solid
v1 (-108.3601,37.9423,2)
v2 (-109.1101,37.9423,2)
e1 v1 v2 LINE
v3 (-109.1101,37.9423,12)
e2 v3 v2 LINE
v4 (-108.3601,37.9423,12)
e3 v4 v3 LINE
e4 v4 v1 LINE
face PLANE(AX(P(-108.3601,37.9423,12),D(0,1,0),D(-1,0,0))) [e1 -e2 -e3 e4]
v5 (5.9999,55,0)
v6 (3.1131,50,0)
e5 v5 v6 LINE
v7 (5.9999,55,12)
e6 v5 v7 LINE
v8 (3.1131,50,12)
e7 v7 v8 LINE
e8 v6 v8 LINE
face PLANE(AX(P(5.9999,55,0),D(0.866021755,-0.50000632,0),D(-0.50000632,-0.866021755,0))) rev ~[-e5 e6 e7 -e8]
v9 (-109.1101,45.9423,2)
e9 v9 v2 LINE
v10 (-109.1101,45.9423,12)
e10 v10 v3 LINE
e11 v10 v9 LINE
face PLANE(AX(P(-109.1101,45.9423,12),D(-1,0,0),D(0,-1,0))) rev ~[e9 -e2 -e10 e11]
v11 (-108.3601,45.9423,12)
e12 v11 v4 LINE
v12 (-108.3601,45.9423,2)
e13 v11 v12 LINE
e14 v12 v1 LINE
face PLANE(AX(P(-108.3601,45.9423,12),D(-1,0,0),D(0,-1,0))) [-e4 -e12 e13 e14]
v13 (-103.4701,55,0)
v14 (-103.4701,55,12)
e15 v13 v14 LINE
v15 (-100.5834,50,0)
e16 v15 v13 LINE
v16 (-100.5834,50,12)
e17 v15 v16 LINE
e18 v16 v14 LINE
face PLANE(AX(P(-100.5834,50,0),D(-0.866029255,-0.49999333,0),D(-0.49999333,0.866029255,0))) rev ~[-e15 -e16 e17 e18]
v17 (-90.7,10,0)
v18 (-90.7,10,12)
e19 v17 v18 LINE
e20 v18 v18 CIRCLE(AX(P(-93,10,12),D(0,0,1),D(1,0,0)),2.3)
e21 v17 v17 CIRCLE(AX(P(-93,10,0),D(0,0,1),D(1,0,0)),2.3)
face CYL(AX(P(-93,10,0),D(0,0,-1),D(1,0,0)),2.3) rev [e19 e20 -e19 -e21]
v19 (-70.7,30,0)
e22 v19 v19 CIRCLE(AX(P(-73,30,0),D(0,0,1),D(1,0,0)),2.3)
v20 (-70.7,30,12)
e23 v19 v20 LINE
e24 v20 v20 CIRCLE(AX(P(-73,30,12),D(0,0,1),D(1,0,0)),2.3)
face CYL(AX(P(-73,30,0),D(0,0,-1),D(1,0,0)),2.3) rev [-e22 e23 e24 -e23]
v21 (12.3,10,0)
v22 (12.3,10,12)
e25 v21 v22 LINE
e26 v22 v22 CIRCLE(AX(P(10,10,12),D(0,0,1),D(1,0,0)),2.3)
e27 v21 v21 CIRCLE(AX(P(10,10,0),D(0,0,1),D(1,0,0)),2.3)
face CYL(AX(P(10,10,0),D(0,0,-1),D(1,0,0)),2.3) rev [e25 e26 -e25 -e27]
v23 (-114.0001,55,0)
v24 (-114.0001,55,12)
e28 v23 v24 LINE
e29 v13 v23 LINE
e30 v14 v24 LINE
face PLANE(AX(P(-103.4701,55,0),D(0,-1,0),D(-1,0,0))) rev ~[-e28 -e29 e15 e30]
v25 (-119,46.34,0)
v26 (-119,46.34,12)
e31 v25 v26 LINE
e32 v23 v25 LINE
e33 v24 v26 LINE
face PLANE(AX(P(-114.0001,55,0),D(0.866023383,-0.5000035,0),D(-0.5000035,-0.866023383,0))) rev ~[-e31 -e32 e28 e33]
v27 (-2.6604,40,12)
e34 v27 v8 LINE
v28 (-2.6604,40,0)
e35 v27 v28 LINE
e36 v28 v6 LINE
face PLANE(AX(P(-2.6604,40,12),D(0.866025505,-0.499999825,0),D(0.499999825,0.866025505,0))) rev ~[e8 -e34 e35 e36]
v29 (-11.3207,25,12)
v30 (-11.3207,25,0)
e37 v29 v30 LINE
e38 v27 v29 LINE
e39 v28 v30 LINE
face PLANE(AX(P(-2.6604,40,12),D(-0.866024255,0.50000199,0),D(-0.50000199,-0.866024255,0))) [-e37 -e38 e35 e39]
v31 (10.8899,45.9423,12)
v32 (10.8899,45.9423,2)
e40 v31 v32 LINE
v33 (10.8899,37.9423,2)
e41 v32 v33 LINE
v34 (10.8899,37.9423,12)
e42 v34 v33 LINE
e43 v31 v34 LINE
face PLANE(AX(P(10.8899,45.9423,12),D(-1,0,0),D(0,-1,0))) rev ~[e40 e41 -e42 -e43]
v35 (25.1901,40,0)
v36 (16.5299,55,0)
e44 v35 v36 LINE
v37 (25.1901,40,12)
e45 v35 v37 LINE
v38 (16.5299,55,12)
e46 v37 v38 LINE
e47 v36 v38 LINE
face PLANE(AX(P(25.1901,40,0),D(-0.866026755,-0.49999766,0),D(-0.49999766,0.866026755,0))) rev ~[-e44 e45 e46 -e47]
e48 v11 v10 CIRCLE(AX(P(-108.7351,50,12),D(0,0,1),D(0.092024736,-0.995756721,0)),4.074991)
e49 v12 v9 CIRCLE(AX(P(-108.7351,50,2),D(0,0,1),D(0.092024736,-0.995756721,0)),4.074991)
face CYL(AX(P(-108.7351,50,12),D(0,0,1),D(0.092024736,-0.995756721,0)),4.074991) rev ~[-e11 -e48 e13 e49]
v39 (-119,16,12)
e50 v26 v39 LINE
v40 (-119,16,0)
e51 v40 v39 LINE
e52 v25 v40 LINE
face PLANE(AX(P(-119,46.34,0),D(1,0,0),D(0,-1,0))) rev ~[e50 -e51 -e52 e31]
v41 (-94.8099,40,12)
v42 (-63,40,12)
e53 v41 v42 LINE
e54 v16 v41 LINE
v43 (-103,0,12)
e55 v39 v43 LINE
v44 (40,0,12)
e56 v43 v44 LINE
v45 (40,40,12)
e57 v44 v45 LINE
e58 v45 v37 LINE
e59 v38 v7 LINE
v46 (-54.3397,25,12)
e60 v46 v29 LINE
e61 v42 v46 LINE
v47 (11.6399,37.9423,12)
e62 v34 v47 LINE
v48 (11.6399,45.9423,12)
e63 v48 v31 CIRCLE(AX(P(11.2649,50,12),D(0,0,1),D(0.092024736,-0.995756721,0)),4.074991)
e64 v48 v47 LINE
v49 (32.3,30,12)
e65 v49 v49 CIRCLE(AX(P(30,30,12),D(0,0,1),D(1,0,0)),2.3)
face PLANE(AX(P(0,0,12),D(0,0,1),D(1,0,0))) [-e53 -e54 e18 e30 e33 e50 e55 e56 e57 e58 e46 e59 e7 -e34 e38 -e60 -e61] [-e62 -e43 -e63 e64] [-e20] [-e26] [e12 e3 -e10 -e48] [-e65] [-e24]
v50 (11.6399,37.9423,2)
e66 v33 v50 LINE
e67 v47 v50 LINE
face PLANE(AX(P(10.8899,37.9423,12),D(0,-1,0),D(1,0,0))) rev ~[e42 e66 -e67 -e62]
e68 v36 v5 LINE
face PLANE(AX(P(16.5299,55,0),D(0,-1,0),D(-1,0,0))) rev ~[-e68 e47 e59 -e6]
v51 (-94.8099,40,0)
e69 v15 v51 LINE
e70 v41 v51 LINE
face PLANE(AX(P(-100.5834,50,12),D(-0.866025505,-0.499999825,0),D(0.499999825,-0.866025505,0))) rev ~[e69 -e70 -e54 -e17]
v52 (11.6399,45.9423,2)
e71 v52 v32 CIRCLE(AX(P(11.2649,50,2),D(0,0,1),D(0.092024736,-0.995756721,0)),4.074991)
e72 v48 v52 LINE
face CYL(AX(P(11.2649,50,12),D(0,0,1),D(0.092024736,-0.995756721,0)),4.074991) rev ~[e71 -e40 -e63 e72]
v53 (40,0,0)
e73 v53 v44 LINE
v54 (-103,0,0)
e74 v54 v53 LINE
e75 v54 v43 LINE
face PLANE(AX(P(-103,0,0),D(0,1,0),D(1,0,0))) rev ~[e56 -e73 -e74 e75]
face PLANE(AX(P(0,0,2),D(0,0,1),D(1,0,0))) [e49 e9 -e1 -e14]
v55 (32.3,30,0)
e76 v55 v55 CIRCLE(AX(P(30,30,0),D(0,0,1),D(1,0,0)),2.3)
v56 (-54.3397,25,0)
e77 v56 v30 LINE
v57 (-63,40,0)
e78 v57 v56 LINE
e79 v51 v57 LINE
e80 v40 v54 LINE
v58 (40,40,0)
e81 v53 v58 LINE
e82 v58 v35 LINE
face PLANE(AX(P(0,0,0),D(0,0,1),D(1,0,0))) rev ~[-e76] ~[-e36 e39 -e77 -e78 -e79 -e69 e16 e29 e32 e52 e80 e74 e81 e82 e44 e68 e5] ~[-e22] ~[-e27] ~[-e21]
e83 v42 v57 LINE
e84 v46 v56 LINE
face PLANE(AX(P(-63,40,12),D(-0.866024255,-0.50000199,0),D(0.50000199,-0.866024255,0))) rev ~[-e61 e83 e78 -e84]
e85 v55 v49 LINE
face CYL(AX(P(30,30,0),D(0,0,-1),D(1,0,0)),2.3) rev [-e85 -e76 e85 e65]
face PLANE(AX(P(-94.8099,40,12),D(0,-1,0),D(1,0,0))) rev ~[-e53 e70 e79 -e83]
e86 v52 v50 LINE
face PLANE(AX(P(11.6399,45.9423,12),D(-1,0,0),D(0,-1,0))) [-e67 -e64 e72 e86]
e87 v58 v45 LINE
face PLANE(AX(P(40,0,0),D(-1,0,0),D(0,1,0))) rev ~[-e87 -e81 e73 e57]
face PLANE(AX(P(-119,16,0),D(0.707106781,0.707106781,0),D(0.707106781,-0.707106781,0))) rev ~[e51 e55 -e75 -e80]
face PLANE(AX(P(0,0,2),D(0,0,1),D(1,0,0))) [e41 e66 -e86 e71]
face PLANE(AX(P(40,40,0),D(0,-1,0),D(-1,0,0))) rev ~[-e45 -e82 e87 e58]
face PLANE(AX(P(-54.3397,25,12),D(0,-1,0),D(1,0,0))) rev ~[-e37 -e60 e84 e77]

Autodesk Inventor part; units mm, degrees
ref_plane "YZ Plane" through (0, 0, 0) normal (1, 0, 0) x (0, 1, 0)
ref_plane "XZ Plane" through (0, 0, 0) normal (0, 1, 0) x (-1, 0, 0)
ref_plane "XY Plane" through (0, 0, 0) normal (0, 0, 1) x (1, 0, 0)
sketch "rail_profile_1" plane through (0, 0, 0) normal (0, 0, 1) x (1, 0, 0)
  line L0 (6.605, 1.8) -> (6.605, 1.185) construction
  line L1 (7.1607, 6.1) -> (4.5, 3.4393) construction
  line L2 (4.5, 1.8) -> (6.605, 1.8) construction
  line L3 (4.5, 3.4393) -> (4.5, 1.8) construction
  line L4 (6.605, 1.185) -> (5.42, 0) construction
  line L5 (3.4393, 4.5) -> (6.1, 7.1607) construction
  line L6 (1.8, 4.5) -> (3.4393, 4.5) construction
  line L7 (1.8, 6.605) -> (1.8, 4.5) construction
  line L8 (5.42, 0) -> (1.5, 0) construction
  arc A0 (0, 1.5) -> (1.5, 0) centre (1.5, 1.5) ccw construction
  line L9 (0, 1.5) -> (0, 5.42) construction
  line L10 (0, 5.42) -> (1.185, 6.605) construction
  line L11 (1.185, 6.605) -> (1.8, 6.605) construction
  line L12 (0, 1.5) -> (0, 0) construction
  line L13 (0, 0) -> (1.5, 0) construction
  line L14 (3.7607, 17.3) -> (7.1607, 13.9) construction
  line L15 (1.8, 17.3) -> (3.7607, 17.3) construction
  line L16 (1.8, 22.7) -> (1.8, 17.3) construction
  line L17 (3.4393, 15.5) -> (1.8, 15.5) construction
  line L18 (1.8, 15.5) -> (1.8, 13.395) construction
  line L19 (1.8, 13.395) -> (1.185, 13.395) construction
  line L20 (6.1, 12.8393) -> (3.4393, 15.5) construction
  line L21 (1.185, 13.395) -> (0, 14.58) construction
  line L22 (0, 14.58) -> (0, 25.42) construction
  line L23 (6.1, 7.1607) -> (6.1, 9.79) construction
  line L24 (9.79, 6.1) -> (7.1607, 6.1) construction
  line L25 (6.1, 9.79) -> (6.31, 10) construction
  line L26 (10, 6.31) -> (9.79, 6.1) construction
  line L27 (6.31, 10) -> (6.1, 10.21) construction
  line L28 (10.21, 6.1) -> (10, 6.31) construction
  line L29 (6.1, 10.21) -> (6.1, 12.8393) construction
  circle A1 centre (10, 10) radius 2.3 construction
  line L30 (7.1607, 13.9) -> (12.8393, 13.9) construction
  line L31 (12.8393, 13.9) -> (13.9, 12.8393) construction
  line L32 (13.9, 12.8393) -> (13.9, 7.1607) construction
  line L33 (12.8393, 6.1) -> (10.21, 6.1) construction
  line L34 (17.3, 1.8) -> (22.7, 1.8) construction
  line L35 (17.3, 3.7607) -> (17.3, 1.8) construction
  line L36 (13.9, 7.1607) -> (17.3, 3.7607) construction
  line L37 (13.395, 1.185) -> (13.395, 1.8) construction
  line L38 (14.58, 0) -> (13.395, 1.185) construction
  line L39 (15.5, 3.4393) -> (12.8393, 6.1) construction
  line L40 (13.395, 1.8) -> (15.5, 1.8) construction
  line L41 (25.42, 0) -> (14.58, 0) construction
  line L42 (15.5, 1.8) -> (15.5, 3.4393) construction
  line L43 (0, 20) -> (51.5435, 20) construction
  line L44 (20, 0) -> (20, 50.2619) construction
  line L45 (33.395, 1.8) -> (33.395, 1.185) construction
  line L46 (32.8393, 6.1) -> (35.5, 3.4393) construction
  line L47 (35.5, 1.8) -> (33.395, 1.8) construction
  line L48 (35.5, 3.4393) -> (35.5, 1.8) construction
  line L49 (33.395, 1.185) -> (34.58, 0) construction
  line L50 (36.5607, 4.5) -> (33.9, 7.1607) construction
  line L51 (38.2, 4.5) -> (36.5607, 4.5) construction
  line L52 (38.2, 6.605) -> (38.2, 4.5) construction
  line L53 (34.58, 0) -> (38.5, 0) construction
  arc A2 (38.5, 0) -> (40, 1.5) centre (38.5, 1.5) ccw construction
  line L54 (40, 1.5) -> (40, 5.42) construction
  line L55 (38.815, 6.605) -> (38.2, 6.605) construction
  line L56 (40, 5.42) -> (38.815, 6.605) construction
  line L57 (33.9, 7.1607) -> (33.9, 9.79) construction
  line L58 (30.21, 6.1) -> (32.8393, 6.1) construction
  line L59 (33.9, 9.79) -> (33.69, 10) construction
  line L60 (30, 6.31) -> (30.21, 6.1) construction
  line L61 (33.69, 10) -> (33.9, 10.21) construction
  line L62 (29.79, 6.1) -> (30, 6.31) construction
  line L63 (33.9, 10.21) -> (33.9, 12.8393) construction
  line L64 (27.1607, 6.1) -> (29.79, 6.1) construction
  line L65 (26.1, 12.8393) -> (26.1, 7.1607) construction
  line L66 (32.8393, 13.9) -> (27.1607, 13.9) construction
  line L67 (27.1607, 13.9) -> (26.1, 12.8393) construction
  circle A3 centre (30, 10) radius 2.3 construction
  line L68 (38.2, 17.3) -> (36.2393, 17.3) construction
  line L69 (38.2, 22.7) -> (38.2, 17.3) construction
  line L70 (40, 14.58) -> (40, 25.42) construction
  line L71 (36.5607, 15.5) -> (38.2, 15.5) construction
  line L72 (38.2, 15.5) -> (38.2, 13.395) construction
  line L73 (38.2, 13.395) -> (38.815, 13.395) construction
  line L74 (38.815, 13.395) -> (40, 14.58) construction
  line L75 (22.7, 3.7607) -> (22.7, 1.8) construction
  line L76 (24.5, 1.8) -> (24.5, 3.4393) construction
  line L77 (26.605, 1.8) -> (24.5, 1.8) construction
  line L78 (26.605, 1.185) -> (26.605, 1.8) construction
  line L79 (25.42, 0) -> (26.605, 1.185) construction
  line L80 (24.5, 3.4393) -> (27.1607, 6.1) construction
  line L81 (26.1, 7.1607) -> (22.7, 3.7607) construction
  line L82 (33.9, 12.8393) -> (36.5607, 15.5) construction
  line L83 (36.2393, 17.3) -> (32.8393, 13.9) construction
  line L84 (6.605, 38.2) -> (6.605, 38.815) construction
  line L85 (7.1607, 33.9) -> (4.5, 36.5607) construction
  line L86 (4.5, 38.2) -> (6.605, 38.2) construction
  line L87 (4.5, 36.5607) -> (4.5, 38.2) construction
  line L88 (6.605, 38.815) -> (5.42, 40) construction
  line L89 (3.4393, 35.5) -> (6.1, 32.8393) construction
  line L90 (1.8, 35.5) -> (3.4393, 35.5) construction
  line L91 (1.8, 33.395) -> (1.8, 35.5) construction
  line L92 (5.42, 40) -> (1.5, 40) construction
  arc A4 (1.5, 40) -> (0, 38.5) centre (1.5, 38.5) ccw construction
  line L93 (0, 38.5) -> (0, 34.58) construction
  line L94 (1.185, 33.395) -> (1.8, 33.395) construction
  line L95 (0, 34.58) -> (1.185, 33.395) construction
  line L96 (6.1, 32.8393) -> (6.1, 30.21) construction
  line L97 (9.79, 33.9) -> (7.1607, 33.9) construction
  line L98 (6.1, 30.21) -> (6.31, 30) construction
  line L99 (10, 33.69) -> (9.79, 33.9) construction
  line L100 (6.31, 30) -> (6.1, 29.79) construction
  line L101 (10.21, 33.9) -> (10, 33.69) construction
  line L102 (6.1, 29.79) -> (6.1, 27.1607) construction
  line L103 (12.8393, 33.9) -> (10.21, 33.9) construction
  line L104 (13.9, 27.1607) -> (13.9, 32.8393) construction
  line L105 (7.1607, 26.1) -> (12.8393, 26.1) construction
  line L106 (12.8393, 26.1) -> (13.9, 27.1607) construction
  circle A5 centre (10, 30) radius 2.3 construction
  line L107 (1.8, 22.7) -> (3.7607, 22.7) construction
  line L108 (3.4393, 24.5) -> (1.8, 24.5) construction
  line L109 (1.8, 24.5) -> (1.8, 26.605) construction
  line L110 (1.8, 26.605) -> (1.185, 26.605) construction
  line L111 (1.185, 26.605) -> (0, 25.42) construction
  line L112 (17.3, 36.2393) -> (17.3, 38.2) construction
  line L113 (17.3, 38.2) -> (22.7, 38.2) construction
  line L114 (15.5, 38.2) -> (15.5, 36.5607) construction
  line L115 (13.395, 38.2) -> (15.5, 38.2) construction
  line L116 (13.395, 38.815) -> (13.395, 38.2) construction
  line L117 (14.58, 40) -> (13.395, 38.815) construction
  line L118 (25.42, 40) -> (14.58, 40) construction
  line L119 (15.5, 36.5607) -> (12.8393, 33.9) construction
  line L120 (13.9, 32.8393) -> (17.3, 36.2393) construction
  line L121 (6.1, 27.1607) -> (3.4393, 24.5) construction
  line L122 (3.7607, 22.7) -> (7.1607, 26.1) construction
  line L123 (38.815, 26.605) -> (40, 25.42) construction
  line L124 (38.2, 26.605) -> (38.815, 26.605) construction
  line L125 (38.2, 24.5) -> (38.2, 26.605) construction
  line L126 (38.2, 22.7) -> (36.2393, 22.7) construction
  line L127 (36.5607, 24.5) -> (38.2, 24.5) construction
  line L128 (36.2393, 22.7) -> (32.8393, 26.1) construction
  line L129 (33.9, 27.1607) -> (36.5607, 24.5) construction
  line L130 (32.8393, 26.1) -> (27.1607, 26.1) construction
  line L131 (27.1607, 26.1) -> (26.1, 27.1607) construction
  line L132 (26.1, 27.1607) -> (26.1, 32.8393) construction
  line L133 (26.1, 32.8393) -> (22.7, 36.2393) construction
  line L134 (24.5, 36.5607) -> (27.1607, 33.9) construction
  line L135 (24.5, 38.2) -> (24.5, 36.5607) construction
  line L136 (22.7, 36.2393) -> (22.7, 38.2) construction
  line L137 (26.605, 38.2) -> (24.5, 38.2) construction
  line L138 (26.605, 38.815) -> (26.605, 38.2) construction
  line L139 (25.42, 40) -> (26.605, 38.815) construction
  line L140 (33.395, 38.815) -> (34.58, 40) construction
  line L141 (34.58, 40) -> (38.5, 40) construction
  arc A6 (40, 38.5) -> (38.5, 40) centre (38.5, 38.5) ccw construction
  line L142 (40, 38.5) -> (40, 34.58) construction
  line L143 (40, 34.58) -> (38.815, 33.395) construction
  line L144 (38.815, 33.395) -> (38.2, 33.395) construction
  line L145 (38.2, 33.395) -> (38.2, 35.5) construction
  line L146 (38.2, 35.5) -> (36.5607, 35.5) construction
  line L147 (36.5607, 35.5) -> (33.9, 32.8393) construction
  line L148 (32.8393, 33.9) -> (35.5, 36.5607) construction
  line L149 (35.5, 36.5607) -> (35.5, 38.2) construction
  line L150 (35.5, 38.2) -> (33.395, 38.2) construction
  line L151 (33.395, 38.2) -> (33.395, 38.815) construction
  line L152 (30.21, 33.9) -> (32.8393, 33.9) construction
  line L153 (27.1607, 33.9) -> (29.79, 33.9) construction
  line L154 (30, 33.69) -> (30.21, 33.9) construction
  line L155 (29.79, 33.9) -> (30, 33.69) construction
  circle A7 centre (30, 30) radius 2.3 construction
  line L156 (33.9, 32.8393) -> (33.9, 30.21) construction
  line L157 (33.9, 30.21) -> (33.69, 30) construction
  line L158 (33.69, 30) -> (33.9, 29.79) construction
  line L159 (33.9, 29.79) -> (33.9, 27.1607) construction
  point P0 (0, 0)
  dimension "d0" = 1.5
  dimension "d1" = 6.605
  dimension "d2" = 6.605
  dimension "d3" = 1.185
  dimension "d4" = 135
  dimension "d5" = 1.185
  dimension "d6" = 135
  dimension "d7" = 0.615
  dimension "d8" = 0.615
  dimension "d9" = 2.105
  dimension "d10" = 1.6393
  dimension "d11" = 135
  dimension "d12" = 135
  dimension "d13" = 2.6607
  dimension "d14" = 1.6393
  dimension "d15" = 2.105
  dimension "d16" = 4.6
  dimension "d17" = 10
  dimension "d18" = 10
  dimension "d19" = 13.395
  dimension "d20" = 1.8
  dimension "d21" = 135
  dimension "d22" = 1.185
  dimension "d23" = 1.8
  dimension "d24" = 2.105
  dimension "d25" = 135
  dimension "d26" = 2.6607
  dimension "d29" = 7.1607
  dimension "d34" = 0.21
  dimension "d35" = 135
  dimension "d36" = 0.21
  dimension "d37" = 135
  dimension "d38" = 2.6293
  dimension "d39" = 3.4
  dimension "d40" = 1.5
  dimension "d41" = 135
  dimension "d42" = 0.21
  dimension "d43" = 0.21
  dimension "d44" = 135
  dimension "d45" = 2.6293
  dimension "d46" = 1.0607
  dimension "d47" = 135
  dimension "d48" = 5.6787
  dimension "d49" = 1.5
  dimension "d50" = 135
  dimension "d51" = 13.395
  dimension "d52" = 1.185
  dimension "d53" = 45
  dimension "d54" = 1.6393
  dimension "d55" = 1.9607
  dimension "d56" = 5.4
  dimension "d57" = 0.615
  dimension "d58" = 2.105
  dimension "d59" = 20
  dimension "d60" = 20
sketch "Sketch2" plane through (0, 0, 0) normal (0, 0, 1) x (1, 0, 0)
  line L0 (-14.2649, 439.4908) -> (-14.2649, -197.1126) construction
  line L1 (5.42, 40) -> (1.5, 40) construction
  line L2 (-119, 46.34) -> (-119, 16)
  line L3 (-114.0001, 55) -> (-119, 46.34)
  line L4 (-103.4701, 55) -> (-114.0001, 55)
  line L5 (-100.5834, 50) -> (-103.4701, 55)
  line L6 (3.1131, 50) -> (-100.5834, 50)
  line L7 (-119, 16) -> (-103, 0)
  line L8 (-103, 0) -> (40, 0)
  line L9 (5.9999, 55) -> (3.1131, 50)
  line L10 (16.5299, 55) -> (5.9999, 55)
  line L11 (25.1901, 40) -> (16.5299, 55)
  line L12 (40, 40) -> (25.1901, 40)
  line L13 (40, 0) -> (40, 40)
  circle A0 centre (-93, 10) radius 2.3
  circle A1 centre (-73, 30) radius 2.3
  line L14 (40, 14.58) -> (40, 25.42) construction
  circle A2 centre (10, 10) radius 2.3 projected
  circle A3 centre (30, 30) radius 2.3 projected
  line L15 (10, 10) -> (-93, 10) construction
  line L16 (25.42, 0) -> (14.58, 0) construction
  point P0 (0, 0)
  point P1 (0, 0)
  dimension "d219" = 20
  dimension "d220" = 20
  dimension "d221" = 120
  dimension "d222" = 83
  dimension "d223" = 60
  dimension "d224" = 60
  dimension "d225" = 120
  dimension "d226" = 10.53
  dimension "d227" = 10.53
  dimension "d228" = 4.0001
  dimension "d229" = 50
  dimension "d230" = 5
  dimension "d231" = 5
  dimension "d232" = 8.66
  dimension "d233" = 15
  dimension "d234" = 16
  dimension "d235" = 135
  dimension "d236" = 26
extrude "Base" add sketch "Sketch2" along normal blind 12
sketch "rail_profile_2" plane through (0, 0, 0) normal (0, 0, -1) x (-1, 0, 0)
  line L0 (-40, 38.5) -> (-40, 34.58) construction
  line L1 (-40, 34.58) -> (-38.815, 33.395) construction
  line L2 (0, 14.58) -> (0, 25.42) construction
  line L3 (69.605, 1.8) -> (69.605, 1.185) construction
  line L4 (70.1607, 6.1) -> (67.5, 3.4393) construction
  line L5 (67.5, 1.8) -> (69.605, 1.8) construction
  line L6 (67.5, 3.4393) -> (67.5, 1.8) construction
  line L7 (69.605, 1.185) -> (68.42, 0) construction
  line L8 (66.4393, 4.5) -> (69.1, 7.1607) construction
  line L9 (64.8, 4.5) -> (66.4393, 4.5) construction
  line L10 (64.8, 6.605) -> (64.8, 4.5) construction
  line L11 (68.42, 0) -> (64.5, 0) construction
  arc A0 (63, 1.5) -> (64.5, 0) centre (64.5, 1.5) ccw construction
  line L12 (63, 1.5) -> (63, 5.42) construction
  line L13 (64.185, 6.605) -> (64.8, 6.605) construction
  line L14 (63, 5.42) -> (64.185, 6.605) construction
  line L15 (63, 1.5) -> (63, 0) construction
  line L16 (63, 0) -> (64.5, 0) construction
  line L17 (69.1, 7.1607) -> (69.1, 9.79) construction
  line L18 (72.79, 6.1) -> (70.1607, 6.1) construction
  line L19 (69.1, 9.79) -> (69.31, 10) construction
  line L20 (73, 6.31) -> (72.79, 6.1) construction
  line L21 (69.31, 10) -> (69.1, 10.21) construction
  line L22 (73.21, 6.1) -> (73, 6.31) construction
  line L23 (69.1, 10.21) -> (69.1, 12.8393) construction
  line L24 (75.8393, 6.1) -> (73.21, 6.1) construction
  line L25 (76.9, 12.8393) -> (76.9, 7.1607) construction
  line L26 (70.1607, 13.9) -> (75.8393, 13.9) construction
  line L27 (75.8393, 13.9) -> (76.9, 12.8393) construction
  circle A1 centre (73, 10) radius 2.3 construction
  line L28 (64.8, 17.3) -> (66.7607, 17.3) construction
  line L29 (64.8, 22.7) -> (64.8, 17.3) construction
  line L30 (63, 14.58) -> (63, 25.42) construction
  line L31 (66.4393, 15.5) -> (64.8, 15.5) construction
  line L32 (64.8, 15.5) -> (64.8, 13.395) construction
  line L33 (64.8, 13.395) -> (64.185, 13.395) construction
  line L34 (64.185, 13.395) -> (63, 14.58) construction
  line L35 (80.3, 3.7607) -> (80.3, 1.8) construction
  line L36 (80.3, 1.8) -> (85.7, 1.8) construction
  line L37 (78.5, 1.8) -> (78.5, 3.4393) construction
  line L38 (76.395, 1.8) -> (78.5, 1.8) construction
  line L39 (76.395, 1.185) -> (76.395, 1.8) construction
  line L40 (77.58, 0) -> (76.395, 1.185) construction
  line L41 (88.42, 0) -> (77.58, 0) construction
  line L42 (78.5, 3.4393) -> (75.8393, 6.1) construction
  line L43 (76.9, 7.1607) -> (80.3, 3.7607) construction
  line L44 (69.1, 12.8393) -> (66.4393, 15.5) construction
  line L45 (66.7607, 17.3) -> (70.1607, 13.9) construction
  line L46 (63, 20) -> (44.0135, 20) construction
  line L47 (83, 0) -> (83, 50.2619) construction
  line L48 (103, 14.58) -> (103, 25.42) construction
  line L49 (101.815, 13.395) -> (103, 14.58) construction
  line L50 (101.2, 13.395) -> (101.815, 13.395) construction
  line L51 (101.2, 15.5) -> (101.2, 13.395) construction
  line L52 (101.2, 22.7) -> (101.2, 17.3) construction
  line L53 (101.2, 17.3) -> (99.2393, 17.3) construction
  line L54 (99.5607, 15.5) -> (101.2, 15.5) construction
  line L55 (99.2393, 17.3) -> (95.8393, 13.9) construction
  line L56 (96.9, 12.8393) -> (99.5607, 15.5) construction
  line L57 (95.8393, 13.9) -> (90.1607, 13.9) construction
  line L58 (90.1607, 13.9) -> (89.1, 12.8393) construction
  line L59 (89.1, 12.8393) -> (89.1, 7.1607) construction
  line L60 (89.1, 7.1607) -> (85.7, 3.7607) construction
  line L61 (87.5, 3.4393) -> (90.1607, 6.1) construction
  line L62 (87.5, 1.8) -> (87.5, 3.4393) construction
  line L63 (85.7, 3.7607) -> (85.7, 1.8) construction
  line L64 (89.605, 1.8) -> (87.5, 1.8) construction
  line L65 (89.605, 1.185) -> (89.605, 1.8) construction
  line L66 (88.42, 0) -> (89.605, 1.185) construction
  line L67 (96.395, 1.185) -> (97.58, 0) construction
  line L68 (97.58, 0) -> (101.5, 0) construction
  arc A2 (101.5, 0) -> (103, 1.5) centre (101.5, 1.5) ccw construction
  line L69 (103, 1.5) -> (103, 5.42) construction
  line L70 (103, 5.42) -> (101.815, 6.605) construction
  line L71 (101.815, 6.605) -> (101.2, 6.605) construction
  line L72 (101.2, 6.605) -> (101.2, 4.5) construction
  line L73 (101.2, 4.5) -> (99.5607, 4.5) construction
  line L74 (99.5607, 4.5) -> (96.9, 7.1607) construction
  line L75 (95.8393, 6.1) -> (98.5, 3.4393) construction
  line L76 (98.5, 3.4393) -> (98.5, 1.8) construction
  line L77 (98.5, 1.8) -> (96.395, 1.8) construction
  line L78 (96.395, 1.8) -> (96.395, 1.185) construction
  line L79 (93.21, 6.1) -> (95.8393, 6.1) construction
  line L80 (90.1607, 6.1) -> (92.79, 6.1) construction
  line L81 (93, 6.31) -> (93.21, 6.1) construction
  line L82 (92.79, 6.1) -> (93, 6.31) construction
  circle A3 centre (93, 10) radius 2.3 construction
  line L83 (96.9, 7.1607) -> (96.9, 9.79) construction
  line L84 (96.9, 9.79) -> (96.69, 10) construction
  line L85 (96.69, 10) -> (96.9, 10.21) construction
  line L86 (96.9, 10.21) -> (96.9, 12.8393) construction
  arc A4 (64.5, 40) -> (63, 38.5) centre (64.5, 38.5) ccw construction
  line L87 (68.42, 40) -> (64.5, 40) construction
  line L88 (69.605, 38.815) -> (68.42, 40) construction
  line L89 (69.605, 38.2) -> (69.605, 38.815) construction
  line L90 (67.5, 38.2) -> (69.605, 38.2) construction
  line L91 (67.5, 36.5607) -> (67.5, 38.2) construction
  line L92 (63, 38.5) -> (63, 34.58) construction
  line L93 (63, 34.58) -> (64.185, 33.395) construction
  line L94 (64.185, 33.395) -> (64.8, 33.395) construction
  line L95 (64.8, 33.395) -> (64.8, 35.5) construction
  line L96 (64.8, 35.5) -> (66.4393, 35.5) construction
  line L97 (66.4393, 35.5) -> (69.1, 32.8393) construction
  line L98 (70.1607, 33.9) -> (67.5, 36.5607) construction
  line L99 (72.79, 33.9) -> (70.1607, 33.9) construction
  line L100 (69.1, 32.8393) -> (69.1, 30.21) construction
  line L101 (73, 33.69) -> (72.79, 33.9) construction
  line L102 (73.21, 33.9) -> (73, 33.69) construction
  line L103 (75.8393, 33.9) -> (73.21, 33.9) construction
  circle A5 centre (73, 30) radius 2.3 construction
  line L104 (78.5, 36.5607) -> (75.8393, 33.9) construction
  line L105 (78.5, 38.2) -> (78.5, 36.5607) construction
  line L106 (76.395, 38.2) -> (78.5, 38.2) construction
  line L107 (76.395, 38.815) -> (76.395, 38.2) construction
  line L108 (77.58, 40) -> (76.395, 38.815) construction
  line L109 (88.42, 40) -> (77.58, 40) construction
  line L110 (80.3, 36.2393) -> (80.3, 38.2) construction
  line L111 (76.9, 32.8393) -> (80.3, 36.2393) construction
  line L112 (80.3, 38.2) -> (85.7, 38.2) construction
  line L113 (88.42, 40) -> (89.605, 38.815) construction
  line L114 (89.605, 38.815) -> (89.605, 38.2) construction
  line L115 (89.605, 38.2) -> (87.5, 38.2) construction
  line L116 (87.5, 38.2) -> (87.5, 36.5607) construction
  line L117 (85.7, 36.2393) -> (85.7, 38.2) construction
  line L118 (89.1, 32.8393) -> (85.7, 36.2393) construction
  line L119 (87.5, 36.5607) -> (90.1607, 33.9) construction
  line L120 (76.9, 27.1607) -> (76.9, 32.8393) construction
  line L121 (75.8393, 26.1) -> (76.9, 27.1607) construction
  line L122 (70.1607, 26.1) -> (75.8393, 26.1) construction
  line L123 (66.7607, 22.7) -> (70.1607, 26.1) construction
  line L124 (69.1, 29.79) -> (69.1, 27.1607) construction
  line L125 (69.1, 30.21) -> (69.31, 30) construction
  line L126 (69.31, 30) -> (69.1, 29.79) construction
  line L127 (66.4393, 24.5) -> (64.8, 24.5) construction
  line L128 (69.1, 27.1607) -> (66.4393, 24.5) construction
  line L129 (64.8, 22.7) -> (66.7607, 22.7) construction
  line L130 (64.8, 24.5) -> (64.8, 26.605) construction
  line L131 (64.8, 26.605) -> (64.185, 26.605) construction
  line L132 (64.185, 26.605) -> (63, 25.42) construction
  line L133 (90.1607, 33.9) -> (92.79, 33.9) construction
  line L134 (89.1, 27.1607) -> (89.1, 32.8393) construction
  line L135 (90.1607, 26.1) -> (89.1, 27.1607) construction
  line L136 (95.8393, 26.1) -> (90.1607, 26.1) construction
  line L137 (96.9, 29.79) -> (96.9, 27.1607) construction
  line L138 (99.2393, 22.7) -> (95.8393, 26.1) construction
  line L139 (99.5607, 24.5) -> (101.2, 24.5) construction
  line L140 (101.2, 22.7) -> (99.2393, 22.7) construction
  line L141 (96.9, 27.1607) -> (99.5607, 24.5) construction
  line L142 (101.2, 24.5) -> (101.2, 26.605) construction
  line L143 (101.2, 26.605) -> (101.815, 26.605) construction
  line L144 (101.815, 26.605) -> (103, 25.42) construction
  line L145 (103, 34.58) -> (101.815, 33.395) construction
  line L146 (103, 38.5) -> (103, 34.58) construction
  arc A6 (103, 38.5) -> (101.5, 40) centre (101.5, 38.5) ccw construction
  line L147 (97.58, 40) -> (101.5, 40) construction
  line L148 (96.395, 38.815) -> (97.58, 40) construction
  line L149 (96.395, 38.2) -> (96.395, 38.815) construction
  line L150 (98.5, 38.2) -> (96.395, 38.2) construction
  line L151 (93.21, 33.9) -> (95.8393, 33.9) construction
  line L152 (95.8393, 33.9) -> (98.5, 36.5607) construction
  line L153 (98.5, 36.5607) -> (98.5, 38.2) construction
  line L154 (99.5607, 35.5) -> (96.9, 32.8393) construction
  line L155 (96.9, 32.8393) -> (96.9, 30.21) construction
  line L156 (101.2, 35.5) -> (99.5607, 35.5) construction
  line L157 (101.2, 33.395) -> (101.2, 35.5) construction
  line L158 (101.815, 33.395) -> (101.2, 33.395) construction
  line L159 (96.9, 30.21) -> (96.69, 30) construction
  line L160 (96.69, 30) -> (96.9, 29.79) construction
  line L161 (93, 33.69) -> (93.21, 33.9) construction
  line L162 (92.79, 33.9) -> (93, 33.69) construction
  circle A7 centre (93, 30) radius 2.3 construction
  circle A8 centre (73, 30) radius 2.3 projected
  point P0 (0, 0)
  point P1 (93.2635, 30)
  dimension "d89" = 1.5
  dimension "d90" = 6.605
  dimension "d91" = 6.605
  dimension "d92" = 1.185
  dimension "d93" = 135
  dimension "d94" = 1.185
  dimension "d95" = 135
  dimension "d96" = 0.615
  dimension "d97" = 0.615
  dimension "d98" = 2.105
  dimension "d99" = 1.6393
  dimension "d100" = 135
  dimension "d101" = 135
  dimension "d102" = 2.6607
  dimension "d103" = 1.6393
  dimension "d104" = 2.105
  dimension "d105" = 4.6
  dimension "d106" = 10
  dimension "d107" = 10
  dimension "d108" = 13.395
  dimension "d109" = 1.8
  dimension "d110" = 135
  dimension "d111" = 1.185
  dimension "d112" = 1.8
  dimension "d113" = 2.105
  dimension "d114" = 135
  dimension "d115" = 2.6607
  dimension "d116" = 7.1607
  dimension "d117" = 0.21
  dimension "d118" = 135
  dimension "d119" = 0.21
  dimension "d120" = 135
  dimension "d121" = 2.6293
  dimension "d122" = 3.4
  dimension "d123" = 1.5
  dimension "d124" = 135
  dimension "d125" = 0.21
  dimension "d126" = 0.21
  dimension "d127" = 135
  dimension "d128" = 2.6293
  dimension "d129" = 1.0607
  dimension "d130" = 135
  dimension "d131" = 5.6787
  dimension "d132" = 1.5
  dimension "d133" = 135
  dimension "d134" = 13.395
  dimension "d135" = 1.185
  dimension "d136" = 45
  dimension "d137" = 1.6393
  dimension "d138" = 1.9607
  dimension "d139" = 5.4
  dimension "d140" = 0.615
  dimension "d141" = 2.105
  dimension "d142" = 20
  dimension "d143" = 20
sketch "Sketch3" plane through (0, 0, 12) normal (0, 0, 1) x (1, 0, 0)
  arc A0 (11.6399, 45.9423) -> (10.8899, 45.9423) centre (11.2649, 50) ccw
  line L0 (11.2649, 55) -> (11.2649, 50) construction
  line L1 (10.8899, 45.9423) -> (10.8899, 37.9423)
  line L2 (11.6399, 45.9423) -> (11.6399, 37.9423)
  line L3 (10.8899, 37.9423) -> (11.6399, 37.9423)
  line L4 (-48.7351, 50) -> (-48.7351, 99.3964) construction
  arc A1 (-108.3601, 45.9423) -> (-109.1101, 45.9423) centre (-108.7351, 50) ccw
  line L5 (-108.3601, 45.9423) -> (-108.3601, 37.9423)
  line L6 (-109.1101, 45.9423) -> (-109.1101, 37.9423)
  line L7 (-108.3601, 37.9423) -> (-109.1101, 37.9423)
  line L8 (16.5299, 55) -> (5.9999, 55) construction
  line L9 (11.2649, 55) -> (11.2649, 50) construction
  point P0 (0, 0)
  dimension "d83" = 5
  dimension "d84" = 8.15
  dimension "d85" = 8
  dimension "d86" = 0.75
  dimension "d237" = 120
extrude "rod_holes" cut sketch "Sketch3" against normal blind 10
ref_plane "Work Plane2" through (-35, 0, 12) normal (1, 0, 0) x (0, 0, -1)
ref_plane "Work Plane1" through (40, 0, 12) normal (1, 0, 0) x (0, 0, -1)
sketch "Sketch14" plane through (0, 0, 12) normal (0, 0, 1) x (1, 0, 0)
  line L0 (3.1131, 50) -> (-100.5834, 50) projected
  line L1 (-100.5834, 50) -> (-94.8099, 40)
  line L2 (-94.8099, 40) -> (-2.6604, 40)
  line L3 (-2.6604, 40) -> (3.1131, 50)
  line L4 (5.9999, 55) -> (3.1131, 50) projected
  line L5 (-100.5834, 50) -> (-103.4701, 55) projected
  line L6 (-103, 0) -> (40, 0) projected
  line L7 (-63, 40) -> (-54.3397, 25)
  line L8 (-54.3397, 25) -> (-11.3207, 25)
  circle A0 centre (-73, 30) radius 2.3 projected
  line L9 (-2.6604, 40) -> (-11.3207, 25)
  line L10 (-103, 0) -> (-63, 0) construction
  line L11 (-63, 0) -> (-63, 40) construction
  line L12 (-63, 40) -> (-103, 40) construction
  line L13 (-103, 40) -> (-103, 0) construction
  circle A1 centre (-93, 10) radius 2.3 projected
  line L14 (40, 0) -> (0, 0) construction
  line L15 (0, 0) -> (0, 40) construction
  line L16 (0, 40) -> (40, 40) construction
  line L17 (40, 40) -> (40, 0) construction
  circle A2 centre (30, 30) radius 2.3 projected
  point P0 (0, 0)
  dimension "d283" = 40
  dimension "d284" = 10
  dimension "d285" = 15
  dimension "d286" = 40
  dimension "d287" = 40
  dimension "d288" = 10
  dimension "d289" = 40
  dimension "d290" = 40
  dimension "d291" = 10
extrude "Extrusion11" cut sketch "Sketch14" against normal through all contours L3 L2 L1 L0 | L9 L8 L7 L2
properties part number "_3DPrint"
